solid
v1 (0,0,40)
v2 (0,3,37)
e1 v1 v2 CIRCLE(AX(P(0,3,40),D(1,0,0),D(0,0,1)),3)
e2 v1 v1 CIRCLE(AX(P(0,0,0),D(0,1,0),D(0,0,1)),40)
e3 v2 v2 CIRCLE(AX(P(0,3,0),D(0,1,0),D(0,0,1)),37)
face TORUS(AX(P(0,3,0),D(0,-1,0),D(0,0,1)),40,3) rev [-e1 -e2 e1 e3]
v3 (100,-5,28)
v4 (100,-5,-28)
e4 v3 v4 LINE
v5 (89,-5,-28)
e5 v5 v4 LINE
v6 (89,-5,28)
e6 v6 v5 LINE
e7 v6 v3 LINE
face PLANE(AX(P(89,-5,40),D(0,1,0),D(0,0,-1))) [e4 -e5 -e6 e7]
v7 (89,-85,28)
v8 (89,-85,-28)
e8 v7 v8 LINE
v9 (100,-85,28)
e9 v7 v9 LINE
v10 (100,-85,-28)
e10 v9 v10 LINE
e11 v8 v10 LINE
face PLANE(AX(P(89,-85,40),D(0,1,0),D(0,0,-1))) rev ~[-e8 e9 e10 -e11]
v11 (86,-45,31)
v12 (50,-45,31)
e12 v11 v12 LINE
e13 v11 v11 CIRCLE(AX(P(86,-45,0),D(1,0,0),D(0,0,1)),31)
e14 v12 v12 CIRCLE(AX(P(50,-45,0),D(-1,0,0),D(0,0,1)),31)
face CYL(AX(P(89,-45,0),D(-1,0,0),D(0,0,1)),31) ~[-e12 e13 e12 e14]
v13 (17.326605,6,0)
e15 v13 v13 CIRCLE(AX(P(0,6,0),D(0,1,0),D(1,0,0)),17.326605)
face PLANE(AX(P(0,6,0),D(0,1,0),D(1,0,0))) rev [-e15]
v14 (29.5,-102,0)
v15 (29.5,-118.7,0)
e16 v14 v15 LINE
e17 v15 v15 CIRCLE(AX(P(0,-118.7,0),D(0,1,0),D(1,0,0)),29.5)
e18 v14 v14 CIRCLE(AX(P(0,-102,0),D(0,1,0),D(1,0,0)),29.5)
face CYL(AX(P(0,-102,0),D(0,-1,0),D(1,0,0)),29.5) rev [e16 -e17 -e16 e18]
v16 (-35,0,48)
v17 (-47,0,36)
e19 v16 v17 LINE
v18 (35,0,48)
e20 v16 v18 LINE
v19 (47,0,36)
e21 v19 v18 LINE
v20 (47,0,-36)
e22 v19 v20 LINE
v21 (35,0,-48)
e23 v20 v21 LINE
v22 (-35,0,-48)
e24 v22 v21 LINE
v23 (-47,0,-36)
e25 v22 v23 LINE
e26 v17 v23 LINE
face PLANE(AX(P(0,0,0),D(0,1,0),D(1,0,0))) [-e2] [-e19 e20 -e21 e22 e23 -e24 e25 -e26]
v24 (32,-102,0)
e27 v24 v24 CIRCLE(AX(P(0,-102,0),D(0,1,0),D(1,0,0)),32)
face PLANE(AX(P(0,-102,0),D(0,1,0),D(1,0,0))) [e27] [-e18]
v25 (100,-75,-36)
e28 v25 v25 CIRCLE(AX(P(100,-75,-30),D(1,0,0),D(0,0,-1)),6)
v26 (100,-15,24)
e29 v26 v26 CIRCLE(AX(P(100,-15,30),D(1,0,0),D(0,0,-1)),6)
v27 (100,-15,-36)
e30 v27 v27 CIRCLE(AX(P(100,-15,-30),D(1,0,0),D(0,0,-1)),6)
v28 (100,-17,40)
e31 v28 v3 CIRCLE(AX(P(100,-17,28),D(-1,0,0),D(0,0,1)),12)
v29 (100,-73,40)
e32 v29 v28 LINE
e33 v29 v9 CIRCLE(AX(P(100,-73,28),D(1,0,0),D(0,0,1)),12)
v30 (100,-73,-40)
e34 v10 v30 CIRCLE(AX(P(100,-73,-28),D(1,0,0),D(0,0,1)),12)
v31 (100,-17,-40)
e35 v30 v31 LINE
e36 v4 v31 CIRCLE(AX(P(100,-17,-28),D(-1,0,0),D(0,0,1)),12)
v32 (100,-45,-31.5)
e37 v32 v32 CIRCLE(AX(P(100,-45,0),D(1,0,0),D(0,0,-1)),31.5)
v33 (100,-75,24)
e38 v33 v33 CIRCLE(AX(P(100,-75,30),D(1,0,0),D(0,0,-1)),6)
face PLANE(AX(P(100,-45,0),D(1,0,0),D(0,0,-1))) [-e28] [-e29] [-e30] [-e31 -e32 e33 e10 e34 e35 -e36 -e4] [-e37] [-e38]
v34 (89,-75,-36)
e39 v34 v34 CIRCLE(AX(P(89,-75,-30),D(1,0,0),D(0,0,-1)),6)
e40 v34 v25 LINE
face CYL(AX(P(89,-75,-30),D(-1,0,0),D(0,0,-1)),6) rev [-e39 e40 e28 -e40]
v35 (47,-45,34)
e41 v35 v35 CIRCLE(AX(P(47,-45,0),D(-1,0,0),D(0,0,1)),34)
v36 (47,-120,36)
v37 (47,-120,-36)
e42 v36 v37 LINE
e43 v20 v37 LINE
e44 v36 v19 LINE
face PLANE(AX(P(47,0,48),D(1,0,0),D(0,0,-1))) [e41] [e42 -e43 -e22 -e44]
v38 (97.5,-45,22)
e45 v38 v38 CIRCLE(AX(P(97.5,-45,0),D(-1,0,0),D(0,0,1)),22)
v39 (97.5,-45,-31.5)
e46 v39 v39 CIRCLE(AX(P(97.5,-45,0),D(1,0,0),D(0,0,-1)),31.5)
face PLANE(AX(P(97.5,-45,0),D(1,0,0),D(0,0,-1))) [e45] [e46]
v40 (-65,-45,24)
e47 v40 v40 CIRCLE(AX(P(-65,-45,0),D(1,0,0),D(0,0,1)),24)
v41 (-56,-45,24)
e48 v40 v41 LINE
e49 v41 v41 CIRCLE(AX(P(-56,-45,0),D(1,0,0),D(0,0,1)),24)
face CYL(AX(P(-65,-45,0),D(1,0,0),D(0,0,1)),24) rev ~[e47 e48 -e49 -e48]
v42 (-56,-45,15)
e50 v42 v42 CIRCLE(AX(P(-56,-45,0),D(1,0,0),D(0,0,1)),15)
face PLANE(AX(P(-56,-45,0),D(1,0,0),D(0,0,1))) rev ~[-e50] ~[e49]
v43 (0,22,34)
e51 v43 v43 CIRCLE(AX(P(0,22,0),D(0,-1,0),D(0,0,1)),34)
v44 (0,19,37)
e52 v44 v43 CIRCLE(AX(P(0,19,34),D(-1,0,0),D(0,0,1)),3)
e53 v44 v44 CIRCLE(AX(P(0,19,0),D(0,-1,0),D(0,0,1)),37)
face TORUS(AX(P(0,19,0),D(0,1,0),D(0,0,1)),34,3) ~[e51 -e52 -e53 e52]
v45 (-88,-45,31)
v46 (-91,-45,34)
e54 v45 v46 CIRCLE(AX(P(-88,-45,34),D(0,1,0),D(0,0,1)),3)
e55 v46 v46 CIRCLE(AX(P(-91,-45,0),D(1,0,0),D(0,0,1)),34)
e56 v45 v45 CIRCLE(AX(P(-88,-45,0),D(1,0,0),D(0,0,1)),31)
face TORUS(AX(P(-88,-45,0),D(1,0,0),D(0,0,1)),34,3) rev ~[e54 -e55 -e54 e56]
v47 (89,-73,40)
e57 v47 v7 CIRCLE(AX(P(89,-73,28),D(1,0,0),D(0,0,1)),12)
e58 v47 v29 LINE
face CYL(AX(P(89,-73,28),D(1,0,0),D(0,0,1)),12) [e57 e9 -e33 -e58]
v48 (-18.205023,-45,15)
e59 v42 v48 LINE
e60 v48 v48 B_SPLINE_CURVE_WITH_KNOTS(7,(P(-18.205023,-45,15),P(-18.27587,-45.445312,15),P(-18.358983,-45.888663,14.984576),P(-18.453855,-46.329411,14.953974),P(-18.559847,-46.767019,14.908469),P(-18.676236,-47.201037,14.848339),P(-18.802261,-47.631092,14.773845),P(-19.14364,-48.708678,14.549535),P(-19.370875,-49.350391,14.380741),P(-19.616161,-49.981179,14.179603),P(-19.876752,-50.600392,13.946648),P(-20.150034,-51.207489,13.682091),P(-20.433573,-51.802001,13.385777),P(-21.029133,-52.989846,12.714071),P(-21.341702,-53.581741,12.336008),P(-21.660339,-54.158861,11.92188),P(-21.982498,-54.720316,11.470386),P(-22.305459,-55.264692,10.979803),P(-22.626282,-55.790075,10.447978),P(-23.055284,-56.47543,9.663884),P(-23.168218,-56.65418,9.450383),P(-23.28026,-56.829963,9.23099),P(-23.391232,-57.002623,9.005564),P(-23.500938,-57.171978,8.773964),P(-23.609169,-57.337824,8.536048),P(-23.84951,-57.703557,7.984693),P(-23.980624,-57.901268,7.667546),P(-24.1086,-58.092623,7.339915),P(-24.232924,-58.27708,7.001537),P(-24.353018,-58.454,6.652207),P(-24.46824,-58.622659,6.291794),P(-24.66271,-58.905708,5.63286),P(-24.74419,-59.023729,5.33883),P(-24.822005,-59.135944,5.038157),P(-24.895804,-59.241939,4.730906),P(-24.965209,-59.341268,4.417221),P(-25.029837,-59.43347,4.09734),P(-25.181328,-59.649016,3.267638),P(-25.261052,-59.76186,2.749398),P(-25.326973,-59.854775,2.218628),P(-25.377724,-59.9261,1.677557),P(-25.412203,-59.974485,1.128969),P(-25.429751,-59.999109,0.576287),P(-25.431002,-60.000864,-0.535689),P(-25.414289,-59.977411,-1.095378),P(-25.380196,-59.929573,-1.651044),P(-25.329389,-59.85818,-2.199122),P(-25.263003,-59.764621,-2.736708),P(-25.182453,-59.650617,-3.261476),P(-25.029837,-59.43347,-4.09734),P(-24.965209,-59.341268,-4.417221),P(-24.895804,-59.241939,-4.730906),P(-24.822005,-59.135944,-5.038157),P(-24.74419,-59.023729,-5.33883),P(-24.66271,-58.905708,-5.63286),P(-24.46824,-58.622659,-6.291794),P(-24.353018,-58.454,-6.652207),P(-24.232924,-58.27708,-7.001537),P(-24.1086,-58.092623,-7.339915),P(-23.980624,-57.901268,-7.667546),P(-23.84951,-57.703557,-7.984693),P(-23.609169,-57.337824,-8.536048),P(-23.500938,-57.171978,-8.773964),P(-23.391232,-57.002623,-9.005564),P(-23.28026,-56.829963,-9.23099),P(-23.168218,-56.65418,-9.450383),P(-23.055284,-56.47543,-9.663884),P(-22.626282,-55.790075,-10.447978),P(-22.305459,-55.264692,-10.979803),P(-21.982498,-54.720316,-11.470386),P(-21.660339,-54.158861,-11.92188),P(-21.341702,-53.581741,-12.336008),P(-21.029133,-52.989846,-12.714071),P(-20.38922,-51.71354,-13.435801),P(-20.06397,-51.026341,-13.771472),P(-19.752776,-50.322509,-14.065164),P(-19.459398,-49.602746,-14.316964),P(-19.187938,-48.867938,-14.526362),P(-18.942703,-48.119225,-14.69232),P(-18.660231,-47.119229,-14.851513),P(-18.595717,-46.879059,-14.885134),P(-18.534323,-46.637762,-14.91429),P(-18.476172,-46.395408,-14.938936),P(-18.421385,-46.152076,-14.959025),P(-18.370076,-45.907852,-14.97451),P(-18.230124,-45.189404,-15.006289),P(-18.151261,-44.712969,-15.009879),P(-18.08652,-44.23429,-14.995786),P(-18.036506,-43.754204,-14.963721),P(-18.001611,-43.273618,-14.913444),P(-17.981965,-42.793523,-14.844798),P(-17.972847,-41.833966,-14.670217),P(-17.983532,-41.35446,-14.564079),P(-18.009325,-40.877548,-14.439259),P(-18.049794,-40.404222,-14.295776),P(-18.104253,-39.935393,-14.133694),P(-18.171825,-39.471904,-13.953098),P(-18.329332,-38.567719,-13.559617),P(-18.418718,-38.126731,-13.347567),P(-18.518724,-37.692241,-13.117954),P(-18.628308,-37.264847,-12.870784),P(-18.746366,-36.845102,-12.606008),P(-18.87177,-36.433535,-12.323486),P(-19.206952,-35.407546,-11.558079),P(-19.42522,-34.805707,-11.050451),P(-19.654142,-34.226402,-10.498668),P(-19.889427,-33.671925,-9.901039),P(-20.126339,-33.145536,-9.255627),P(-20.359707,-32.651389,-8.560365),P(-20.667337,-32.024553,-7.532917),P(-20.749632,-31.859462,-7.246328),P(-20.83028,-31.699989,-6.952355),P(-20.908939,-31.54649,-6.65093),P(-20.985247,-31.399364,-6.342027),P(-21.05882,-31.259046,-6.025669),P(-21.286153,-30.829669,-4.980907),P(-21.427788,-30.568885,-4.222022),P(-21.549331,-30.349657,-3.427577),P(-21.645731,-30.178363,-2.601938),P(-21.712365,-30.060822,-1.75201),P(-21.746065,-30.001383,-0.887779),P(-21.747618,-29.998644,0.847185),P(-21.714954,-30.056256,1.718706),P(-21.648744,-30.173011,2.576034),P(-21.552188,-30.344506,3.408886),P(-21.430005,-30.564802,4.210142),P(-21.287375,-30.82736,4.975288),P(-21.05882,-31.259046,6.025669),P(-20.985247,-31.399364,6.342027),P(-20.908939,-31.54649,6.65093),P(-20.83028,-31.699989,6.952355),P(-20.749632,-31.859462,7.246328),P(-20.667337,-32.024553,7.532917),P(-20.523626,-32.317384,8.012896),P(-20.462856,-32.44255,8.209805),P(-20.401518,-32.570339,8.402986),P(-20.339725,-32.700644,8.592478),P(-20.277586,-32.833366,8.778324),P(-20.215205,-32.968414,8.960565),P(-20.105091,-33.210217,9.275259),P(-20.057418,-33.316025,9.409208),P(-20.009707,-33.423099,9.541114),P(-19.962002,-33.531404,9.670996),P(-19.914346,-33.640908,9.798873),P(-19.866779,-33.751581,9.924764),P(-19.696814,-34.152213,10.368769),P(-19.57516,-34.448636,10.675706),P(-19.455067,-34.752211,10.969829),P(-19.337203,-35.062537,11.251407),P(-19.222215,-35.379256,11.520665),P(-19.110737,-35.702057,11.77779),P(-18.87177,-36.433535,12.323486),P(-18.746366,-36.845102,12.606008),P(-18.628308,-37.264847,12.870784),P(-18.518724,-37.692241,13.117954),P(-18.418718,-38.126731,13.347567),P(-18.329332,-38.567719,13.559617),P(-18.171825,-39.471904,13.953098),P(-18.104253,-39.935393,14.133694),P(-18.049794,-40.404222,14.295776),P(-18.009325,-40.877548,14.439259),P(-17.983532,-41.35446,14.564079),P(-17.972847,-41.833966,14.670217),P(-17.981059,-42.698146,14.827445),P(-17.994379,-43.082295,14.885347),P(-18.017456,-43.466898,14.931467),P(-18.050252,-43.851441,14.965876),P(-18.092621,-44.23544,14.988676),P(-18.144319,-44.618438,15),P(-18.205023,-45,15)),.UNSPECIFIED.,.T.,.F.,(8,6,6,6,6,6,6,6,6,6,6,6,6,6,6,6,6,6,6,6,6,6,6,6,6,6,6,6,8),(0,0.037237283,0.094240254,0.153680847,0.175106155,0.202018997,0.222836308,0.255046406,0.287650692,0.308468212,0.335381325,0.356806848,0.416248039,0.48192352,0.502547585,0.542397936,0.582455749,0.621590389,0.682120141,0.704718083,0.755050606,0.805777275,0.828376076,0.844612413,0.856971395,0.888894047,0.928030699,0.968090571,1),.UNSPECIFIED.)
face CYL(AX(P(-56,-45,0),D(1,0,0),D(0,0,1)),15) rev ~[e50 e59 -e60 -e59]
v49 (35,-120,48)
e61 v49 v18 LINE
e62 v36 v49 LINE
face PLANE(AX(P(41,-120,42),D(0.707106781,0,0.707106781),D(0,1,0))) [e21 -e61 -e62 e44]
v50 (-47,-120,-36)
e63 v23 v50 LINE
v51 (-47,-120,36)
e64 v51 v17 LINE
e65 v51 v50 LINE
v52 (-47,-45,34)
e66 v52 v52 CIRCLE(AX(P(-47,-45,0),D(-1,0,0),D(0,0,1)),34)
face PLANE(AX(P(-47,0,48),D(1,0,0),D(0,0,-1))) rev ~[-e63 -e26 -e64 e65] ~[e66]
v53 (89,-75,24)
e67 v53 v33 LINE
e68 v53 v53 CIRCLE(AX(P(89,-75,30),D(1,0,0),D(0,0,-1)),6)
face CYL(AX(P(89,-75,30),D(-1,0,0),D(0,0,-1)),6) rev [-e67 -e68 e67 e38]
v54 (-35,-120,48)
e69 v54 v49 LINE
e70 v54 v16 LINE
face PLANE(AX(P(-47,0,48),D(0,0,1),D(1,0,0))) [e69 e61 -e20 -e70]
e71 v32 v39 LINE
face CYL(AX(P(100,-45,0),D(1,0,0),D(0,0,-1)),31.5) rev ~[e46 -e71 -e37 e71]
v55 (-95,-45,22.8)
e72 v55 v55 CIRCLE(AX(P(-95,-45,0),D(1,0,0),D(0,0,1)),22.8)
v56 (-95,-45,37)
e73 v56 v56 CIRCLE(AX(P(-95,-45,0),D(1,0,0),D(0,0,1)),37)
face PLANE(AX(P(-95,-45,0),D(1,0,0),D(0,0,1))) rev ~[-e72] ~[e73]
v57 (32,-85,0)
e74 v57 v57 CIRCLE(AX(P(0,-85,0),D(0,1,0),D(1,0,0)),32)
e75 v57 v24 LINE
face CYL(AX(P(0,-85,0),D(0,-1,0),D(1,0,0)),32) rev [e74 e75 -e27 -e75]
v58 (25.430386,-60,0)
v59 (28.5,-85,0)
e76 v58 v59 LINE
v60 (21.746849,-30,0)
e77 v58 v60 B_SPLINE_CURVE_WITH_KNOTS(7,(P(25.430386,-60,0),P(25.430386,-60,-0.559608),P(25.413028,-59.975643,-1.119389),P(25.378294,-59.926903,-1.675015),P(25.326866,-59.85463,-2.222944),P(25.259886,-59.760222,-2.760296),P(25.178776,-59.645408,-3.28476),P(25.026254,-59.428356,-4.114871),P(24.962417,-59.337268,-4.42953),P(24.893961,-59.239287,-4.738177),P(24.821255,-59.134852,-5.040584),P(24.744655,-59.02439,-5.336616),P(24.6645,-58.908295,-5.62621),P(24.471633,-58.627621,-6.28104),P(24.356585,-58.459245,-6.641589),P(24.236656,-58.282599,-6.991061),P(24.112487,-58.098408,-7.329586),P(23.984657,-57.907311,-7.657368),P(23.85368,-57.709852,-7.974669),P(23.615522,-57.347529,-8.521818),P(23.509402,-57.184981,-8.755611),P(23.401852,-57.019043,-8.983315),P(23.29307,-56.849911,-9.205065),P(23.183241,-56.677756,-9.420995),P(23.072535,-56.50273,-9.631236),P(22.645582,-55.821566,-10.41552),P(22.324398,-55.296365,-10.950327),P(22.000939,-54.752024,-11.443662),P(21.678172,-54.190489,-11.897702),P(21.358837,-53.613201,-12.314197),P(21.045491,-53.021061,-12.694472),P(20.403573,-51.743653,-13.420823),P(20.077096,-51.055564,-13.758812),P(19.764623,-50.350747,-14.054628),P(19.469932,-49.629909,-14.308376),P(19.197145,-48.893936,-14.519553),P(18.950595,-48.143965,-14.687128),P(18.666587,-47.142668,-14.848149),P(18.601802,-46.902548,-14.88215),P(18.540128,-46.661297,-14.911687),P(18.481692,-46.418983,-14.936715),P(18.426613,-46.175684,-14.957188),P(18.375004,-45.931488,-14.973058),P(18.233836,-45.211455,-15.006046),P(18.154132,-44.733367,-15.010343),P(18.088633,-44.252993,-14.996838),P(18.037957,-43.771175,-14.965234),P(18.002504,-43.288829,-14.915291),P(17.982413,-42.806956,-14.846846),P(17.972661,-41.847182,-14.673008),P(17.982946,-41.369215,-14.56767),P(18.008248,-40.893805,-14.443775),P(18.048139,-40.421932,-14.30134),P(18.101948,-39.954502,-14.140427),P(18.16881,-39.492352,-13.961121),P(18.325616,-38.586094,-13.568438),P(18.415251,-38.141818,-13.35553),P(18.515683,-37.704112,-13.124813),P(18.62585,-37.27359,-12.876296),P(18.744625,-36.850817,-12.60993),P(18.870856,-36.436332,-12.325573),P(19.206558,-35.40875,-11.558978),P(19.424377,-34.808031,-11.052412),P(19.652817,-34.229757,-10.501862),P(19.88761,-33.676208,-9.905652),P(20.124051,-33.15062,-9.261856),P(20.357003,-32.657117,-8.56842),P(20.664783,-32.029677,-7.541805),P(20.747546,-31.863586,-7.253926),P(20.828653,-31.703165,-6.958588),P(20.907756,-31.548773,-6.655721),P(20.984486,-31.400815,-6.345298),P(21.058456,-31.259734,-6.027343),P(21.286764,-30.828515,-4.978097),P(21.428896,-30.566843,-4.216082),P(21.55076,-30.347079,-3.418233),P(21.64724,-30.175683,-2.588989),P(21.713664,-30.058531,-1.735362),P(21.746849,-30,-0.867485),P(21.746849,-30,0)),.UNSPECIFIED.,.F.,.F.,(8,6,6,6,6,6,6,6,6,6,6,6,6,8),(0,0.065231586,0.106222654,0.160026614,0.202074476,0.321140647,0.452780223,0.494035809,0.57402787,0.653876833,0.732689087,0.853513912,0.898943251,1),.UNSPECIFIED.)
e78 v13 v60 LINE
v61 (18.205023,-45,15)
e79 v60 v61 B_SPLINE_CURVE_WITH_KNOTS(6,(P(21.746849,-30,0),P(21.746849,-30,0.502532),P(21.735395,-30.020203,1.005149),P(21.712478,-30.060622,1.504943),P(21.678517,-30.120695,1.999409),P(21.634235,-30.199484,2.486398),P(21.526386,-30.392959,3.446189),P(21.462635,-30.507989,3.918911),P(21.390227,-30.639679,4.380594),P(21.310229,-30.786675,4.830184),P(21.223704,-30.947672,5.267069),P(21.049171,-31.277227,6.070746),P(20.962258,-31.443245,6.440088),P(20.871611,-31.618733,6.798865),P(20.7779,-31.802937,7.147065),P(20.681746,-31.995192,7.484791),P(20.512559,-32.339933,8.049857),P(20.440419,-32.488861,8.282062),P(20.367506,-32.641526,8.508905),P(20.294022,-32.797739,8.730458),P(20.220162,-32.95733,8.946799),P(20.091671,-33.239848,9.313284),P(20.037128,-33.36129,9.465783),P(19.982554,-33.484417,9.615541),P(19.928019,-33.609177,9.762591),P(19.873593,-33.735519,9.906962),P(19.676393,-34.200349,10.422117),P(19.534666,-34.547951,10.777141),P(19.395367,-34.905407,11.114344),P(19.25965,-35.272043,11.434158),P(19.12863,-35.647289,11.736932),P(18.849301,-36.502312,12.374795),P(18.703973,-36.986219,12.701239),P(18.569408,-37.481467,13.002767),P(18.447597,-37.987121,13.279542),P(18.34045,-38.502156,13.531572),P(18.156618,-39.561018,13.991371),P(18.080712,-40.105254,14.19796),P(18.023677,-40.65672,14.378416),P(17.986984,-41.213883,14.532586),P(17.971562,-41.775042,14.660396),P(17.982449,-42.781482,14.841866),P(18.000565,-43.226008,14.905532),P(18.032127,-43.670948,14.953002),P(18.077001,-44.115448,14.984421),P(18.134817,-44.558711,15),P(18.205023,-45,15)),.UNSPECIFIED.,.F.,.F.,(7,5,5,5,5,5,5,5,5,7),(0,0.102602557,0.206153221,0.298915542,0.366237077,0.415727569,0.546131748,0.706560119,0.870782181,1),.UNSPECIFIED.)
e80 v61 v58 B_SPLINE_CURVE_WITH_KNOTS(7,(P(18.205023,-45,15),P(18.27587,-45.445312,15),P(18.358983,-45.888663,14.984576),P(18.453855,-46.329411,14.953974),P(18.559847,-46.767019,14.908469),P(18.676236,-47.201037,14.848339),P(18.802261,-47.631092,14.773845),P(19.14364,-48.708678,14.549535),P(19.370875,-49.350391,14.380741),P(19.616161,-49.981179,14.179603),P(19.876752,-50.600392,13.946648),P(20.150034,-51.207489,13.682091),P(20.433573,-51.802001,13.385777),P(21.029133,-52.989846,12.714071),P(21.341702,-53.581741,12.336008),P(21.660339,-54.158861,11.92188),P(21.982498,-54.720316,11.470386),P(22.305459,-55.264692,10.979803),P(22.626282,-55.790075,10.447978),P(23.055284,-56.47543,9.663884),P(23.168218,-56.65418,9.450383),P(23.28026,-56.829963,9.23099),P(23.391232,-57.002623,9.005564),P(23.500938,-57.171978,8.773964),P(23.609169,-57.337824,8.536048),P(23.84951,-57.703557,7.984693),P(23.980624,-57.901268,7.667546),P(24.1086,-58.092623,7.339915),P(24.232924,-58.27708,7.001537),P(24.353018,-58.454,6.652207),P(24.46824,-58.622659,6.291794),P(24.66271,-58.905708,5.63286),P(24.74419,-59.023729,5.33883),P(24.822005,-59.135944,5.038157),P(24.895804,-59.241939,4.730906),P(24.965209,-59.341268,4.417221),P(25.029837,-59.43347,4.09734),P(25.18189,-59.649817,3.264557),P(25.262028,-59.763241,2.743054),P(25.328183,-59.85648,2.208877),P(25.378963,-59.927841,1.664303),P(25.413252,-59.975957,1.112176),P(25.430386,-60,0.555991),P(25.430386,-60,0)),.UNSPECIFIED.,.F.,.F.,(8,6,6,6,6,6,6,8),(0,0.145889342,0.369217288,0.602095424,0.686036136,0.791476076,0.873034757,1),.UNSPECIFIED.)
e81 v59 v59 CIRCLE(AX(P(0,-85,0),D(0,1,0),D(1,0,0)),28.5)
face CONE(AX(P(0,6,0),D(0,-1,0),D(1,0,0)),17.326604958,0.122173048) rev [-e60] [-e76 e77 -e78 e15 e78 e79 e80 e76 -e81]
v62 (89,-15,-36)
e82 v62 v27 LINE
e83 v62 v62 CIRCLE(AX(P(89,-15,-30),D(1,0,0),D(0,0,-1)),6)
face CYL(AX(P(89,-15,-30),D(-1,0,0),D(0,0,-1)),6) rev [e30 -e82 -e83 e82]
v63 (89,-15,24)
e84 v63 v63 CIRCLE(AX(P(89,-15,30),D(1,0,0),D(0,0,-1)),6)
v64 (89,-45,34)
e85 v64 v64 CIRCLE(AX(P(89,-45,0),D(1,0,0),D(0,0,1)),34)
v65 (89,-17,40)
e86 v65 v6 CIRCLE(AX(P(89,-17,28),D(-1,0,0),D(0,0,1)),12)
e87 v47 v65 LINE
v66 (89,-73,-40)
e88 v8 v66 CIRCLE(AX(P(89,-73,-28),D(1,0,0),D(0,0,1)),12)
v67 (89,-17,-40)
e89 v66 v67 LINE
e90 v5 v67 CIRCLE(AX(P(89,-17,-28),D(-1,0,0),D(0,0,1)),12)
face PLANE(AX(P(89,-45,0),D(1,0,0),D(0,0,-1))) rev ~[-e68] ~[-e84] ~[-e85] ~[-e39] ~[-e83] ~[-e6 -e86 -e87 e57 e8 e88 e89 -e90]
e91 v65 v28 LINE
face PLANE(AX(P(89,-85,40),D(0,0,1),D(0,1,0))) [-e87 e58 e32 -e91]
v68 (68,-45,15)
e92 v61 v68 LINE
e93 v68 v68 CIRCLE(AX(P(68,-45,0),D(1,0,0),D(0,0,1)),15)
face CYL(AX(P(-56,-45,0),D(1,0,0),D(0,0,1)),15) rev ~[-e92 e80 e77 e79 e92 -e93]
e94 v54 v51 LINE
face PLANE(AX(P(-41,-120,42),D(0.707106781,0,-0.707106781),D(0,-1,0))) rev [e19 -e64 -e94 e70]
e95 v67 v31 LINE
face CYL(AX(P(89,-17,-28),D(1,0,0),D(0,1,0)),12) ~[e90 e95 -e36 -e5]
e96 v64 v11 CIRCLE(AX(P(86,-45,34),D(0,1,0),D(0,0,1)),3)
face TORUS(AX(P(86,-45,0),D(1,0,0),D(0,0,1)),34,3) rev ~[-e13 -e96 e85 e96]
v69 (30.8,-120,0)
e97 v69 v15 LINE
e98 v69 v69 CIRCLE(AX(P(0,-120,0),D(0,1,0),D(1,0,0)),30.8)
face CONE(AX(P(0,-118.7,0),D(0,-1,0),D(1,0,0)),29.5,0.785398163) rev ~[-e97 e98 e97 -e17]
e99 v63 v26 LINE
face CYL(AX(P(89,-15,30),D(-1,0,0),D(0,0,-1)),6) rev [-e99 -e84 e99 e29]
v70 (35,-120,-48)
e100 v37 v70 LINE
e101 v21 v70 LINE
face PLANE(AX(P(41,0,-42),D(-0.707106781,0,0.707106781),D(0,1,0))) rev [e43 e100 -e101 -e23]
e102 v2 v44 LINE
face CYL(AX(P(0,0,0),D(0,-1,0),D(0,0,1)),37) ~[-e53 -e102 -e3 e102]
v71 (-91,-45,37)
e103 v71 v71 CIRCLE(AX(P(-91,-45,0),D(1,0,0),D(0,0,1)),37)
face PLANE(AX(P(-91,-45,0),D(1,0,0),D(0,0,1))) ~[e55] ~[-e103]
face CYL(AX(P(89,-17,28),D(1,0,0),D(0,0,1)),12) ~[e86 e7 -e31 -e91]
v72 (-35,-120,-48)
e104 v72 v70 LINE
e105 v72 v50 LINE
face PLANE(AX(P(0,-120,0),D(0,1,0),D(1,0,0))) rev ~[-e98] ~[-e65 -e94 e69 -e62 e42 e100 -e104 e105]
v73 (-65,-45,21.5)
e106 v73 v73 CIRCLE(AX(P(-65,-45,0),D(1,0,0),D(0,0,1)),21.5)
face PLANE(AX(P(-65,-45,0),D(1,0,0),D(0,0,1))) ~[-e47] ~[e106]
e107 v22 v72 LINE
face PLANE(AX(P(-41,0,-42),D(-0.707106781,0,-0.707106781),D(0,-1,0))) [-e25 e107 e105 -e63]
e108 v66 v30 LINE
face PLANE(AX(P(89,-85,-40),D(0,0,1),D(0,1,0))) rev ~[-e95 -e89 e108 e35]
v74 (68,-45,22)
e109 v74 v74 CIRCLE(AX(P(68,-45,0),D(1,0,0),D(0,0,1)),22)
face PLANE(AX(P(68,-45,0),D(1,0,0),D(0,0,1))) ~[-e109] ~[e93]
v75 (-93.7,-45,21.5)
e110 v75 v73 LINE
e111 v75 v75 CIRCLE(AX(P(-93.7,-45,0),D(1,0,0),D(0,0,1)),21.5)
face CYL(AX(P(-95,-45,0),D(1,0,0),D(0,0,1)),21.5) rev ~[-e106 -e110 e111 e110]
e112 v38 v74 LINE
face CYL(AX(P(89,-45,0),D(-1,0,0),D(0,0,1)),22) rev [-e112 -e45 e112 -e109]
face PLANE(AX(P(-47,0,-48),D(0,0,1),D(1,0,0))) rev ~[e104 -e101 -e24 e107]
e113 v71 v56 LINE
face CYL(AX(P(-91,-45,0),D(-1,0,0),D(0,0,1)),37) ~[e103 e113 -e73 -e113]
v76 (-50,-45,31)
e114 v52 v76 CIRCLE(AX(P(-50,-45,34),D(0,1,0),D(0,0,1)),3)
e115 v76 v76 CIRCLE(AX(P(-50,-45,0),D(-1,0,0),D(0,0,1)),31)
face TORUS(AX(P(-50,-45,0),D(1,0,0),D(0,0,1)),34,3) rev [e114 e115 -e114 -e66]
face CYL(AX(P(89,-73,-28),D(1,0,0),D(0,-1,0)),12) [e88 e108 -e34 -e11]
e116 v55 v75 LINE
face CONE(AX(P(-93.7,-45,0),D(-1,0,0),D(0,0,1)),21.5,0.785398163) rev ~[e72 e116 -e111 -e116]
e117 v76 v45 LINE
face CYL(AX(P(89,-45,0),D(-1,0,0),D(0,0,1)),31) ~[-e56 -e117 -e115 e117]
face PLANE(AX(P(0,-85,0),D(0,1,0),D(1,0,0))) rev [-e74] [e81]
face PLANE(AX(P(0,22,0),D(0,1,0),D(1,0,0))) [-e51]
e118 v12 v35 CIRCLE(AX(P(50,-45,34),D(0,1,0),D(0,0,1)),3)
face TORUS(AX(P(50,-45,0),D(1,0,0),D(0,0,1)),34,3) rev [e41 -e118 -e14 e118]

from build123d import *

# Parameters (mm, degrees)
EXTRUDE_1_DEPTH      = 22
EXTRUDE_1_DEPTH_BACK = 120
SKETCH_1_W           = 94
SKETCH_1_H           = 96
CUT_EXTRUDE_1_REACH  = 139.525
SKETCH_1_3_W         = 94
SKETCH_1_3_H         = 96
SKETCH_1_3_R         = 37
SKETCH_3_R           = 15
CUT_EXTRUDE_2_DEPTH  = 188.616630393
EXTRUDE_START        = 11
SKETCH_4_W           = 80
SKETCH_4_H           = 80
SKETCH_4_R           = 6
SKETCH_4_R_2         = 22
EXTRUDE_2_DEPTH      = 11
SKETCH_5_R           = 31.5
CUT_EXTRUDE_3_DEPTH  = 2.5
FILLET_1_R           = 3
FILLET_2_R           = 12
CHAMFER_1_SIZE       = 12
CHAMFER_2_SIZE       = 1.3


with BuildPart() as part:
    # Эскиз1 → Бобышка-Вытянуть1 (new, two sides: drawn at the far end of the back side and taken through both)
    with BuildSketch(Plane(origin=(0, 0, 0), x_dir=(1, 0, 0), z_dir=(0, 1, 0)).offset(-EXTRUDE_1_DEPTH_BACK)):
        Rectangle(SKETCH_1_W, SKETCH_1_H)
    extrude(amount=EXTRUDE_1_DEPTH + EXTRUDE_1_DEPTH_BACK)

    # Эскиз1<3> → Вырез-Вытянуть1 (cut, up to next)
    with BuildSketch(Plane(origin=(0, 0, 0), x_dir=(1, 0, 0), z_dir=(0, 1, 0)), mode=Mode.PRIVATE) as cut_extrude_1_sk1:
        Rectangle(SKETCH_1_3_W, SKETCH_1_3_H)
        Circle(SKETCH_1_3_R, mode=Mode.SUBTRACT)
    cut_extrude_1_tool1 = extrude(cut_extrude_1_sk1.sketch, amount=CUT_EXTRUDE_1_REACH, mode=Mode.PRIVATE) & part.part
    add(cut_extrude_1_tool1.solids().sort_by_distance((-45.656423, 0, 0))[0], mode=Mode.SUBTRACT)

    # Эскиз2 → Повернуть1 (revolve)
    with BuildSketch(Plane.XY):
        Polygon((89, -14), (-91, -14), (-91, -8), (-95, -8), (-95, -23.5), (-65, -23.5), (-65, -21), (-56, -21), (-56, -30), (68, -30), (68, -23), (89, -23), align=None)
    revolve(axis=Axis((-47, -45, 0), (1, 0, 0)))

    # Эскиз3 → Вырез-Вытянуть2 (cut, through all)
    with BuildSketch(Plane.ZY.offset(47)):
        with Locations((0, -45)):
            Circle(SKETCH_3_R)
    extrude(amount=-CUT_EXTRUDE_2_DEPTH, mode=Mode.SUBTRACT)

    # Эскиз4 → Бобышка-Вытянуть2 (add)
    with BuildSketch(Plane(origin=(89, 0, 0), x_dir=(0, 0, -1), z_dir=(1, 0, 0)).offset(EXTRUDE_START)):
        with Locations((0, -45)):
            Rectangle(SKETCH_4_W, SKETCH_4_H)
        with Locations((-30, -15)):
            Circle(SKETCH_4_R, mode=Mode.SUBTRACT)
        with Locations((30, -15)):
            Circle(SKETCH_4_R, mode=Mode.SUBTRACT)
        with Locations((30, -75)):
            Circle(SKETCH_4_R, mode=Mode.SUBTRACT)
        with Locations((-30, -75)):
            Circle(SKETCH_4_R, mode=Mode.SUBTRACT)
        with Locations((0, -45)):
            Circle(SKETCH_4_R_2, mode=Mode.SUBTRACT)
    extrude(amount=-EXTRUDE_2_DEPTH)

    # Эскиз5 → Вырез-Вытянуть3 (cut)
    with BuildSketch(Plane(origin=(100, 0, 0), x_dir=(0, 0, -1), z_dir=(1, 0, 0))):
        with Locations((0, -45)):
            Circle(SKETCH_5_R)
    extrude(amount=-CUT_EXTRUDE_3_DEPTH, mode=Mode.SUBTRACT)

    # Эскиз6 → Вырез-Повернуть2 (revolve, cut)
    with BuildSketch(Plane.XY):
        Polygon((0, -120), (0, 6), (17.326604958, 6), (28.5, -85), (32, -85), (32, -102), (29.5, -102), (29.5, -120), align=None)
    revolve(axis=Axis((0, -120, 0), (0, 1, 0)), mode=Mode.SUBTRACT)

    # Скругление1
    fillet_1_edges = [part.edges().sort_by_distance(p)[0] for p in [
        (-91, -76, 0),
        (89, -76, 0),
        (-37, 0, 0),
        (-37, 22, 0),
        (47, -76, 0),
        (-47, -76, 0),
    ]]
    fillet(fillet_1_edges, radius=FILLET_1_R)

    # Скругление2
    fillet_2_edges = [part.edges().sort_by_distance(p)[0] for p in [
        (94.5, -5, -40),
        (94.5, -5, 40),
        (94.5, -85, 40),
        (94.5, -85, -40),
    ]]
    fillet(fillet_2_edges, radius=FILLET_2_R)

    # Фаска1
    chamfer_1_edges = [part.edges().sort_by_distance(p)[0] for p in [
        (47, -60, -48),
        (47, -60, 48),
        (-47, -60, 48),
        (-47, -60, -48),
    ]]
    chamfer(chamfer_1_edges, length=CHAMFER_1_SIZE)

    # Фаска2
    chamfer_2_edges = [part.edges().sort_by_distance(p)[0] for p in [
        (-29.5, -120, 0),
        (-95, -66.5, 0),
    ]]
    chamfer(chamfer_2_edges, length=CHAMFER_2_SIZE)


solid = part.part
